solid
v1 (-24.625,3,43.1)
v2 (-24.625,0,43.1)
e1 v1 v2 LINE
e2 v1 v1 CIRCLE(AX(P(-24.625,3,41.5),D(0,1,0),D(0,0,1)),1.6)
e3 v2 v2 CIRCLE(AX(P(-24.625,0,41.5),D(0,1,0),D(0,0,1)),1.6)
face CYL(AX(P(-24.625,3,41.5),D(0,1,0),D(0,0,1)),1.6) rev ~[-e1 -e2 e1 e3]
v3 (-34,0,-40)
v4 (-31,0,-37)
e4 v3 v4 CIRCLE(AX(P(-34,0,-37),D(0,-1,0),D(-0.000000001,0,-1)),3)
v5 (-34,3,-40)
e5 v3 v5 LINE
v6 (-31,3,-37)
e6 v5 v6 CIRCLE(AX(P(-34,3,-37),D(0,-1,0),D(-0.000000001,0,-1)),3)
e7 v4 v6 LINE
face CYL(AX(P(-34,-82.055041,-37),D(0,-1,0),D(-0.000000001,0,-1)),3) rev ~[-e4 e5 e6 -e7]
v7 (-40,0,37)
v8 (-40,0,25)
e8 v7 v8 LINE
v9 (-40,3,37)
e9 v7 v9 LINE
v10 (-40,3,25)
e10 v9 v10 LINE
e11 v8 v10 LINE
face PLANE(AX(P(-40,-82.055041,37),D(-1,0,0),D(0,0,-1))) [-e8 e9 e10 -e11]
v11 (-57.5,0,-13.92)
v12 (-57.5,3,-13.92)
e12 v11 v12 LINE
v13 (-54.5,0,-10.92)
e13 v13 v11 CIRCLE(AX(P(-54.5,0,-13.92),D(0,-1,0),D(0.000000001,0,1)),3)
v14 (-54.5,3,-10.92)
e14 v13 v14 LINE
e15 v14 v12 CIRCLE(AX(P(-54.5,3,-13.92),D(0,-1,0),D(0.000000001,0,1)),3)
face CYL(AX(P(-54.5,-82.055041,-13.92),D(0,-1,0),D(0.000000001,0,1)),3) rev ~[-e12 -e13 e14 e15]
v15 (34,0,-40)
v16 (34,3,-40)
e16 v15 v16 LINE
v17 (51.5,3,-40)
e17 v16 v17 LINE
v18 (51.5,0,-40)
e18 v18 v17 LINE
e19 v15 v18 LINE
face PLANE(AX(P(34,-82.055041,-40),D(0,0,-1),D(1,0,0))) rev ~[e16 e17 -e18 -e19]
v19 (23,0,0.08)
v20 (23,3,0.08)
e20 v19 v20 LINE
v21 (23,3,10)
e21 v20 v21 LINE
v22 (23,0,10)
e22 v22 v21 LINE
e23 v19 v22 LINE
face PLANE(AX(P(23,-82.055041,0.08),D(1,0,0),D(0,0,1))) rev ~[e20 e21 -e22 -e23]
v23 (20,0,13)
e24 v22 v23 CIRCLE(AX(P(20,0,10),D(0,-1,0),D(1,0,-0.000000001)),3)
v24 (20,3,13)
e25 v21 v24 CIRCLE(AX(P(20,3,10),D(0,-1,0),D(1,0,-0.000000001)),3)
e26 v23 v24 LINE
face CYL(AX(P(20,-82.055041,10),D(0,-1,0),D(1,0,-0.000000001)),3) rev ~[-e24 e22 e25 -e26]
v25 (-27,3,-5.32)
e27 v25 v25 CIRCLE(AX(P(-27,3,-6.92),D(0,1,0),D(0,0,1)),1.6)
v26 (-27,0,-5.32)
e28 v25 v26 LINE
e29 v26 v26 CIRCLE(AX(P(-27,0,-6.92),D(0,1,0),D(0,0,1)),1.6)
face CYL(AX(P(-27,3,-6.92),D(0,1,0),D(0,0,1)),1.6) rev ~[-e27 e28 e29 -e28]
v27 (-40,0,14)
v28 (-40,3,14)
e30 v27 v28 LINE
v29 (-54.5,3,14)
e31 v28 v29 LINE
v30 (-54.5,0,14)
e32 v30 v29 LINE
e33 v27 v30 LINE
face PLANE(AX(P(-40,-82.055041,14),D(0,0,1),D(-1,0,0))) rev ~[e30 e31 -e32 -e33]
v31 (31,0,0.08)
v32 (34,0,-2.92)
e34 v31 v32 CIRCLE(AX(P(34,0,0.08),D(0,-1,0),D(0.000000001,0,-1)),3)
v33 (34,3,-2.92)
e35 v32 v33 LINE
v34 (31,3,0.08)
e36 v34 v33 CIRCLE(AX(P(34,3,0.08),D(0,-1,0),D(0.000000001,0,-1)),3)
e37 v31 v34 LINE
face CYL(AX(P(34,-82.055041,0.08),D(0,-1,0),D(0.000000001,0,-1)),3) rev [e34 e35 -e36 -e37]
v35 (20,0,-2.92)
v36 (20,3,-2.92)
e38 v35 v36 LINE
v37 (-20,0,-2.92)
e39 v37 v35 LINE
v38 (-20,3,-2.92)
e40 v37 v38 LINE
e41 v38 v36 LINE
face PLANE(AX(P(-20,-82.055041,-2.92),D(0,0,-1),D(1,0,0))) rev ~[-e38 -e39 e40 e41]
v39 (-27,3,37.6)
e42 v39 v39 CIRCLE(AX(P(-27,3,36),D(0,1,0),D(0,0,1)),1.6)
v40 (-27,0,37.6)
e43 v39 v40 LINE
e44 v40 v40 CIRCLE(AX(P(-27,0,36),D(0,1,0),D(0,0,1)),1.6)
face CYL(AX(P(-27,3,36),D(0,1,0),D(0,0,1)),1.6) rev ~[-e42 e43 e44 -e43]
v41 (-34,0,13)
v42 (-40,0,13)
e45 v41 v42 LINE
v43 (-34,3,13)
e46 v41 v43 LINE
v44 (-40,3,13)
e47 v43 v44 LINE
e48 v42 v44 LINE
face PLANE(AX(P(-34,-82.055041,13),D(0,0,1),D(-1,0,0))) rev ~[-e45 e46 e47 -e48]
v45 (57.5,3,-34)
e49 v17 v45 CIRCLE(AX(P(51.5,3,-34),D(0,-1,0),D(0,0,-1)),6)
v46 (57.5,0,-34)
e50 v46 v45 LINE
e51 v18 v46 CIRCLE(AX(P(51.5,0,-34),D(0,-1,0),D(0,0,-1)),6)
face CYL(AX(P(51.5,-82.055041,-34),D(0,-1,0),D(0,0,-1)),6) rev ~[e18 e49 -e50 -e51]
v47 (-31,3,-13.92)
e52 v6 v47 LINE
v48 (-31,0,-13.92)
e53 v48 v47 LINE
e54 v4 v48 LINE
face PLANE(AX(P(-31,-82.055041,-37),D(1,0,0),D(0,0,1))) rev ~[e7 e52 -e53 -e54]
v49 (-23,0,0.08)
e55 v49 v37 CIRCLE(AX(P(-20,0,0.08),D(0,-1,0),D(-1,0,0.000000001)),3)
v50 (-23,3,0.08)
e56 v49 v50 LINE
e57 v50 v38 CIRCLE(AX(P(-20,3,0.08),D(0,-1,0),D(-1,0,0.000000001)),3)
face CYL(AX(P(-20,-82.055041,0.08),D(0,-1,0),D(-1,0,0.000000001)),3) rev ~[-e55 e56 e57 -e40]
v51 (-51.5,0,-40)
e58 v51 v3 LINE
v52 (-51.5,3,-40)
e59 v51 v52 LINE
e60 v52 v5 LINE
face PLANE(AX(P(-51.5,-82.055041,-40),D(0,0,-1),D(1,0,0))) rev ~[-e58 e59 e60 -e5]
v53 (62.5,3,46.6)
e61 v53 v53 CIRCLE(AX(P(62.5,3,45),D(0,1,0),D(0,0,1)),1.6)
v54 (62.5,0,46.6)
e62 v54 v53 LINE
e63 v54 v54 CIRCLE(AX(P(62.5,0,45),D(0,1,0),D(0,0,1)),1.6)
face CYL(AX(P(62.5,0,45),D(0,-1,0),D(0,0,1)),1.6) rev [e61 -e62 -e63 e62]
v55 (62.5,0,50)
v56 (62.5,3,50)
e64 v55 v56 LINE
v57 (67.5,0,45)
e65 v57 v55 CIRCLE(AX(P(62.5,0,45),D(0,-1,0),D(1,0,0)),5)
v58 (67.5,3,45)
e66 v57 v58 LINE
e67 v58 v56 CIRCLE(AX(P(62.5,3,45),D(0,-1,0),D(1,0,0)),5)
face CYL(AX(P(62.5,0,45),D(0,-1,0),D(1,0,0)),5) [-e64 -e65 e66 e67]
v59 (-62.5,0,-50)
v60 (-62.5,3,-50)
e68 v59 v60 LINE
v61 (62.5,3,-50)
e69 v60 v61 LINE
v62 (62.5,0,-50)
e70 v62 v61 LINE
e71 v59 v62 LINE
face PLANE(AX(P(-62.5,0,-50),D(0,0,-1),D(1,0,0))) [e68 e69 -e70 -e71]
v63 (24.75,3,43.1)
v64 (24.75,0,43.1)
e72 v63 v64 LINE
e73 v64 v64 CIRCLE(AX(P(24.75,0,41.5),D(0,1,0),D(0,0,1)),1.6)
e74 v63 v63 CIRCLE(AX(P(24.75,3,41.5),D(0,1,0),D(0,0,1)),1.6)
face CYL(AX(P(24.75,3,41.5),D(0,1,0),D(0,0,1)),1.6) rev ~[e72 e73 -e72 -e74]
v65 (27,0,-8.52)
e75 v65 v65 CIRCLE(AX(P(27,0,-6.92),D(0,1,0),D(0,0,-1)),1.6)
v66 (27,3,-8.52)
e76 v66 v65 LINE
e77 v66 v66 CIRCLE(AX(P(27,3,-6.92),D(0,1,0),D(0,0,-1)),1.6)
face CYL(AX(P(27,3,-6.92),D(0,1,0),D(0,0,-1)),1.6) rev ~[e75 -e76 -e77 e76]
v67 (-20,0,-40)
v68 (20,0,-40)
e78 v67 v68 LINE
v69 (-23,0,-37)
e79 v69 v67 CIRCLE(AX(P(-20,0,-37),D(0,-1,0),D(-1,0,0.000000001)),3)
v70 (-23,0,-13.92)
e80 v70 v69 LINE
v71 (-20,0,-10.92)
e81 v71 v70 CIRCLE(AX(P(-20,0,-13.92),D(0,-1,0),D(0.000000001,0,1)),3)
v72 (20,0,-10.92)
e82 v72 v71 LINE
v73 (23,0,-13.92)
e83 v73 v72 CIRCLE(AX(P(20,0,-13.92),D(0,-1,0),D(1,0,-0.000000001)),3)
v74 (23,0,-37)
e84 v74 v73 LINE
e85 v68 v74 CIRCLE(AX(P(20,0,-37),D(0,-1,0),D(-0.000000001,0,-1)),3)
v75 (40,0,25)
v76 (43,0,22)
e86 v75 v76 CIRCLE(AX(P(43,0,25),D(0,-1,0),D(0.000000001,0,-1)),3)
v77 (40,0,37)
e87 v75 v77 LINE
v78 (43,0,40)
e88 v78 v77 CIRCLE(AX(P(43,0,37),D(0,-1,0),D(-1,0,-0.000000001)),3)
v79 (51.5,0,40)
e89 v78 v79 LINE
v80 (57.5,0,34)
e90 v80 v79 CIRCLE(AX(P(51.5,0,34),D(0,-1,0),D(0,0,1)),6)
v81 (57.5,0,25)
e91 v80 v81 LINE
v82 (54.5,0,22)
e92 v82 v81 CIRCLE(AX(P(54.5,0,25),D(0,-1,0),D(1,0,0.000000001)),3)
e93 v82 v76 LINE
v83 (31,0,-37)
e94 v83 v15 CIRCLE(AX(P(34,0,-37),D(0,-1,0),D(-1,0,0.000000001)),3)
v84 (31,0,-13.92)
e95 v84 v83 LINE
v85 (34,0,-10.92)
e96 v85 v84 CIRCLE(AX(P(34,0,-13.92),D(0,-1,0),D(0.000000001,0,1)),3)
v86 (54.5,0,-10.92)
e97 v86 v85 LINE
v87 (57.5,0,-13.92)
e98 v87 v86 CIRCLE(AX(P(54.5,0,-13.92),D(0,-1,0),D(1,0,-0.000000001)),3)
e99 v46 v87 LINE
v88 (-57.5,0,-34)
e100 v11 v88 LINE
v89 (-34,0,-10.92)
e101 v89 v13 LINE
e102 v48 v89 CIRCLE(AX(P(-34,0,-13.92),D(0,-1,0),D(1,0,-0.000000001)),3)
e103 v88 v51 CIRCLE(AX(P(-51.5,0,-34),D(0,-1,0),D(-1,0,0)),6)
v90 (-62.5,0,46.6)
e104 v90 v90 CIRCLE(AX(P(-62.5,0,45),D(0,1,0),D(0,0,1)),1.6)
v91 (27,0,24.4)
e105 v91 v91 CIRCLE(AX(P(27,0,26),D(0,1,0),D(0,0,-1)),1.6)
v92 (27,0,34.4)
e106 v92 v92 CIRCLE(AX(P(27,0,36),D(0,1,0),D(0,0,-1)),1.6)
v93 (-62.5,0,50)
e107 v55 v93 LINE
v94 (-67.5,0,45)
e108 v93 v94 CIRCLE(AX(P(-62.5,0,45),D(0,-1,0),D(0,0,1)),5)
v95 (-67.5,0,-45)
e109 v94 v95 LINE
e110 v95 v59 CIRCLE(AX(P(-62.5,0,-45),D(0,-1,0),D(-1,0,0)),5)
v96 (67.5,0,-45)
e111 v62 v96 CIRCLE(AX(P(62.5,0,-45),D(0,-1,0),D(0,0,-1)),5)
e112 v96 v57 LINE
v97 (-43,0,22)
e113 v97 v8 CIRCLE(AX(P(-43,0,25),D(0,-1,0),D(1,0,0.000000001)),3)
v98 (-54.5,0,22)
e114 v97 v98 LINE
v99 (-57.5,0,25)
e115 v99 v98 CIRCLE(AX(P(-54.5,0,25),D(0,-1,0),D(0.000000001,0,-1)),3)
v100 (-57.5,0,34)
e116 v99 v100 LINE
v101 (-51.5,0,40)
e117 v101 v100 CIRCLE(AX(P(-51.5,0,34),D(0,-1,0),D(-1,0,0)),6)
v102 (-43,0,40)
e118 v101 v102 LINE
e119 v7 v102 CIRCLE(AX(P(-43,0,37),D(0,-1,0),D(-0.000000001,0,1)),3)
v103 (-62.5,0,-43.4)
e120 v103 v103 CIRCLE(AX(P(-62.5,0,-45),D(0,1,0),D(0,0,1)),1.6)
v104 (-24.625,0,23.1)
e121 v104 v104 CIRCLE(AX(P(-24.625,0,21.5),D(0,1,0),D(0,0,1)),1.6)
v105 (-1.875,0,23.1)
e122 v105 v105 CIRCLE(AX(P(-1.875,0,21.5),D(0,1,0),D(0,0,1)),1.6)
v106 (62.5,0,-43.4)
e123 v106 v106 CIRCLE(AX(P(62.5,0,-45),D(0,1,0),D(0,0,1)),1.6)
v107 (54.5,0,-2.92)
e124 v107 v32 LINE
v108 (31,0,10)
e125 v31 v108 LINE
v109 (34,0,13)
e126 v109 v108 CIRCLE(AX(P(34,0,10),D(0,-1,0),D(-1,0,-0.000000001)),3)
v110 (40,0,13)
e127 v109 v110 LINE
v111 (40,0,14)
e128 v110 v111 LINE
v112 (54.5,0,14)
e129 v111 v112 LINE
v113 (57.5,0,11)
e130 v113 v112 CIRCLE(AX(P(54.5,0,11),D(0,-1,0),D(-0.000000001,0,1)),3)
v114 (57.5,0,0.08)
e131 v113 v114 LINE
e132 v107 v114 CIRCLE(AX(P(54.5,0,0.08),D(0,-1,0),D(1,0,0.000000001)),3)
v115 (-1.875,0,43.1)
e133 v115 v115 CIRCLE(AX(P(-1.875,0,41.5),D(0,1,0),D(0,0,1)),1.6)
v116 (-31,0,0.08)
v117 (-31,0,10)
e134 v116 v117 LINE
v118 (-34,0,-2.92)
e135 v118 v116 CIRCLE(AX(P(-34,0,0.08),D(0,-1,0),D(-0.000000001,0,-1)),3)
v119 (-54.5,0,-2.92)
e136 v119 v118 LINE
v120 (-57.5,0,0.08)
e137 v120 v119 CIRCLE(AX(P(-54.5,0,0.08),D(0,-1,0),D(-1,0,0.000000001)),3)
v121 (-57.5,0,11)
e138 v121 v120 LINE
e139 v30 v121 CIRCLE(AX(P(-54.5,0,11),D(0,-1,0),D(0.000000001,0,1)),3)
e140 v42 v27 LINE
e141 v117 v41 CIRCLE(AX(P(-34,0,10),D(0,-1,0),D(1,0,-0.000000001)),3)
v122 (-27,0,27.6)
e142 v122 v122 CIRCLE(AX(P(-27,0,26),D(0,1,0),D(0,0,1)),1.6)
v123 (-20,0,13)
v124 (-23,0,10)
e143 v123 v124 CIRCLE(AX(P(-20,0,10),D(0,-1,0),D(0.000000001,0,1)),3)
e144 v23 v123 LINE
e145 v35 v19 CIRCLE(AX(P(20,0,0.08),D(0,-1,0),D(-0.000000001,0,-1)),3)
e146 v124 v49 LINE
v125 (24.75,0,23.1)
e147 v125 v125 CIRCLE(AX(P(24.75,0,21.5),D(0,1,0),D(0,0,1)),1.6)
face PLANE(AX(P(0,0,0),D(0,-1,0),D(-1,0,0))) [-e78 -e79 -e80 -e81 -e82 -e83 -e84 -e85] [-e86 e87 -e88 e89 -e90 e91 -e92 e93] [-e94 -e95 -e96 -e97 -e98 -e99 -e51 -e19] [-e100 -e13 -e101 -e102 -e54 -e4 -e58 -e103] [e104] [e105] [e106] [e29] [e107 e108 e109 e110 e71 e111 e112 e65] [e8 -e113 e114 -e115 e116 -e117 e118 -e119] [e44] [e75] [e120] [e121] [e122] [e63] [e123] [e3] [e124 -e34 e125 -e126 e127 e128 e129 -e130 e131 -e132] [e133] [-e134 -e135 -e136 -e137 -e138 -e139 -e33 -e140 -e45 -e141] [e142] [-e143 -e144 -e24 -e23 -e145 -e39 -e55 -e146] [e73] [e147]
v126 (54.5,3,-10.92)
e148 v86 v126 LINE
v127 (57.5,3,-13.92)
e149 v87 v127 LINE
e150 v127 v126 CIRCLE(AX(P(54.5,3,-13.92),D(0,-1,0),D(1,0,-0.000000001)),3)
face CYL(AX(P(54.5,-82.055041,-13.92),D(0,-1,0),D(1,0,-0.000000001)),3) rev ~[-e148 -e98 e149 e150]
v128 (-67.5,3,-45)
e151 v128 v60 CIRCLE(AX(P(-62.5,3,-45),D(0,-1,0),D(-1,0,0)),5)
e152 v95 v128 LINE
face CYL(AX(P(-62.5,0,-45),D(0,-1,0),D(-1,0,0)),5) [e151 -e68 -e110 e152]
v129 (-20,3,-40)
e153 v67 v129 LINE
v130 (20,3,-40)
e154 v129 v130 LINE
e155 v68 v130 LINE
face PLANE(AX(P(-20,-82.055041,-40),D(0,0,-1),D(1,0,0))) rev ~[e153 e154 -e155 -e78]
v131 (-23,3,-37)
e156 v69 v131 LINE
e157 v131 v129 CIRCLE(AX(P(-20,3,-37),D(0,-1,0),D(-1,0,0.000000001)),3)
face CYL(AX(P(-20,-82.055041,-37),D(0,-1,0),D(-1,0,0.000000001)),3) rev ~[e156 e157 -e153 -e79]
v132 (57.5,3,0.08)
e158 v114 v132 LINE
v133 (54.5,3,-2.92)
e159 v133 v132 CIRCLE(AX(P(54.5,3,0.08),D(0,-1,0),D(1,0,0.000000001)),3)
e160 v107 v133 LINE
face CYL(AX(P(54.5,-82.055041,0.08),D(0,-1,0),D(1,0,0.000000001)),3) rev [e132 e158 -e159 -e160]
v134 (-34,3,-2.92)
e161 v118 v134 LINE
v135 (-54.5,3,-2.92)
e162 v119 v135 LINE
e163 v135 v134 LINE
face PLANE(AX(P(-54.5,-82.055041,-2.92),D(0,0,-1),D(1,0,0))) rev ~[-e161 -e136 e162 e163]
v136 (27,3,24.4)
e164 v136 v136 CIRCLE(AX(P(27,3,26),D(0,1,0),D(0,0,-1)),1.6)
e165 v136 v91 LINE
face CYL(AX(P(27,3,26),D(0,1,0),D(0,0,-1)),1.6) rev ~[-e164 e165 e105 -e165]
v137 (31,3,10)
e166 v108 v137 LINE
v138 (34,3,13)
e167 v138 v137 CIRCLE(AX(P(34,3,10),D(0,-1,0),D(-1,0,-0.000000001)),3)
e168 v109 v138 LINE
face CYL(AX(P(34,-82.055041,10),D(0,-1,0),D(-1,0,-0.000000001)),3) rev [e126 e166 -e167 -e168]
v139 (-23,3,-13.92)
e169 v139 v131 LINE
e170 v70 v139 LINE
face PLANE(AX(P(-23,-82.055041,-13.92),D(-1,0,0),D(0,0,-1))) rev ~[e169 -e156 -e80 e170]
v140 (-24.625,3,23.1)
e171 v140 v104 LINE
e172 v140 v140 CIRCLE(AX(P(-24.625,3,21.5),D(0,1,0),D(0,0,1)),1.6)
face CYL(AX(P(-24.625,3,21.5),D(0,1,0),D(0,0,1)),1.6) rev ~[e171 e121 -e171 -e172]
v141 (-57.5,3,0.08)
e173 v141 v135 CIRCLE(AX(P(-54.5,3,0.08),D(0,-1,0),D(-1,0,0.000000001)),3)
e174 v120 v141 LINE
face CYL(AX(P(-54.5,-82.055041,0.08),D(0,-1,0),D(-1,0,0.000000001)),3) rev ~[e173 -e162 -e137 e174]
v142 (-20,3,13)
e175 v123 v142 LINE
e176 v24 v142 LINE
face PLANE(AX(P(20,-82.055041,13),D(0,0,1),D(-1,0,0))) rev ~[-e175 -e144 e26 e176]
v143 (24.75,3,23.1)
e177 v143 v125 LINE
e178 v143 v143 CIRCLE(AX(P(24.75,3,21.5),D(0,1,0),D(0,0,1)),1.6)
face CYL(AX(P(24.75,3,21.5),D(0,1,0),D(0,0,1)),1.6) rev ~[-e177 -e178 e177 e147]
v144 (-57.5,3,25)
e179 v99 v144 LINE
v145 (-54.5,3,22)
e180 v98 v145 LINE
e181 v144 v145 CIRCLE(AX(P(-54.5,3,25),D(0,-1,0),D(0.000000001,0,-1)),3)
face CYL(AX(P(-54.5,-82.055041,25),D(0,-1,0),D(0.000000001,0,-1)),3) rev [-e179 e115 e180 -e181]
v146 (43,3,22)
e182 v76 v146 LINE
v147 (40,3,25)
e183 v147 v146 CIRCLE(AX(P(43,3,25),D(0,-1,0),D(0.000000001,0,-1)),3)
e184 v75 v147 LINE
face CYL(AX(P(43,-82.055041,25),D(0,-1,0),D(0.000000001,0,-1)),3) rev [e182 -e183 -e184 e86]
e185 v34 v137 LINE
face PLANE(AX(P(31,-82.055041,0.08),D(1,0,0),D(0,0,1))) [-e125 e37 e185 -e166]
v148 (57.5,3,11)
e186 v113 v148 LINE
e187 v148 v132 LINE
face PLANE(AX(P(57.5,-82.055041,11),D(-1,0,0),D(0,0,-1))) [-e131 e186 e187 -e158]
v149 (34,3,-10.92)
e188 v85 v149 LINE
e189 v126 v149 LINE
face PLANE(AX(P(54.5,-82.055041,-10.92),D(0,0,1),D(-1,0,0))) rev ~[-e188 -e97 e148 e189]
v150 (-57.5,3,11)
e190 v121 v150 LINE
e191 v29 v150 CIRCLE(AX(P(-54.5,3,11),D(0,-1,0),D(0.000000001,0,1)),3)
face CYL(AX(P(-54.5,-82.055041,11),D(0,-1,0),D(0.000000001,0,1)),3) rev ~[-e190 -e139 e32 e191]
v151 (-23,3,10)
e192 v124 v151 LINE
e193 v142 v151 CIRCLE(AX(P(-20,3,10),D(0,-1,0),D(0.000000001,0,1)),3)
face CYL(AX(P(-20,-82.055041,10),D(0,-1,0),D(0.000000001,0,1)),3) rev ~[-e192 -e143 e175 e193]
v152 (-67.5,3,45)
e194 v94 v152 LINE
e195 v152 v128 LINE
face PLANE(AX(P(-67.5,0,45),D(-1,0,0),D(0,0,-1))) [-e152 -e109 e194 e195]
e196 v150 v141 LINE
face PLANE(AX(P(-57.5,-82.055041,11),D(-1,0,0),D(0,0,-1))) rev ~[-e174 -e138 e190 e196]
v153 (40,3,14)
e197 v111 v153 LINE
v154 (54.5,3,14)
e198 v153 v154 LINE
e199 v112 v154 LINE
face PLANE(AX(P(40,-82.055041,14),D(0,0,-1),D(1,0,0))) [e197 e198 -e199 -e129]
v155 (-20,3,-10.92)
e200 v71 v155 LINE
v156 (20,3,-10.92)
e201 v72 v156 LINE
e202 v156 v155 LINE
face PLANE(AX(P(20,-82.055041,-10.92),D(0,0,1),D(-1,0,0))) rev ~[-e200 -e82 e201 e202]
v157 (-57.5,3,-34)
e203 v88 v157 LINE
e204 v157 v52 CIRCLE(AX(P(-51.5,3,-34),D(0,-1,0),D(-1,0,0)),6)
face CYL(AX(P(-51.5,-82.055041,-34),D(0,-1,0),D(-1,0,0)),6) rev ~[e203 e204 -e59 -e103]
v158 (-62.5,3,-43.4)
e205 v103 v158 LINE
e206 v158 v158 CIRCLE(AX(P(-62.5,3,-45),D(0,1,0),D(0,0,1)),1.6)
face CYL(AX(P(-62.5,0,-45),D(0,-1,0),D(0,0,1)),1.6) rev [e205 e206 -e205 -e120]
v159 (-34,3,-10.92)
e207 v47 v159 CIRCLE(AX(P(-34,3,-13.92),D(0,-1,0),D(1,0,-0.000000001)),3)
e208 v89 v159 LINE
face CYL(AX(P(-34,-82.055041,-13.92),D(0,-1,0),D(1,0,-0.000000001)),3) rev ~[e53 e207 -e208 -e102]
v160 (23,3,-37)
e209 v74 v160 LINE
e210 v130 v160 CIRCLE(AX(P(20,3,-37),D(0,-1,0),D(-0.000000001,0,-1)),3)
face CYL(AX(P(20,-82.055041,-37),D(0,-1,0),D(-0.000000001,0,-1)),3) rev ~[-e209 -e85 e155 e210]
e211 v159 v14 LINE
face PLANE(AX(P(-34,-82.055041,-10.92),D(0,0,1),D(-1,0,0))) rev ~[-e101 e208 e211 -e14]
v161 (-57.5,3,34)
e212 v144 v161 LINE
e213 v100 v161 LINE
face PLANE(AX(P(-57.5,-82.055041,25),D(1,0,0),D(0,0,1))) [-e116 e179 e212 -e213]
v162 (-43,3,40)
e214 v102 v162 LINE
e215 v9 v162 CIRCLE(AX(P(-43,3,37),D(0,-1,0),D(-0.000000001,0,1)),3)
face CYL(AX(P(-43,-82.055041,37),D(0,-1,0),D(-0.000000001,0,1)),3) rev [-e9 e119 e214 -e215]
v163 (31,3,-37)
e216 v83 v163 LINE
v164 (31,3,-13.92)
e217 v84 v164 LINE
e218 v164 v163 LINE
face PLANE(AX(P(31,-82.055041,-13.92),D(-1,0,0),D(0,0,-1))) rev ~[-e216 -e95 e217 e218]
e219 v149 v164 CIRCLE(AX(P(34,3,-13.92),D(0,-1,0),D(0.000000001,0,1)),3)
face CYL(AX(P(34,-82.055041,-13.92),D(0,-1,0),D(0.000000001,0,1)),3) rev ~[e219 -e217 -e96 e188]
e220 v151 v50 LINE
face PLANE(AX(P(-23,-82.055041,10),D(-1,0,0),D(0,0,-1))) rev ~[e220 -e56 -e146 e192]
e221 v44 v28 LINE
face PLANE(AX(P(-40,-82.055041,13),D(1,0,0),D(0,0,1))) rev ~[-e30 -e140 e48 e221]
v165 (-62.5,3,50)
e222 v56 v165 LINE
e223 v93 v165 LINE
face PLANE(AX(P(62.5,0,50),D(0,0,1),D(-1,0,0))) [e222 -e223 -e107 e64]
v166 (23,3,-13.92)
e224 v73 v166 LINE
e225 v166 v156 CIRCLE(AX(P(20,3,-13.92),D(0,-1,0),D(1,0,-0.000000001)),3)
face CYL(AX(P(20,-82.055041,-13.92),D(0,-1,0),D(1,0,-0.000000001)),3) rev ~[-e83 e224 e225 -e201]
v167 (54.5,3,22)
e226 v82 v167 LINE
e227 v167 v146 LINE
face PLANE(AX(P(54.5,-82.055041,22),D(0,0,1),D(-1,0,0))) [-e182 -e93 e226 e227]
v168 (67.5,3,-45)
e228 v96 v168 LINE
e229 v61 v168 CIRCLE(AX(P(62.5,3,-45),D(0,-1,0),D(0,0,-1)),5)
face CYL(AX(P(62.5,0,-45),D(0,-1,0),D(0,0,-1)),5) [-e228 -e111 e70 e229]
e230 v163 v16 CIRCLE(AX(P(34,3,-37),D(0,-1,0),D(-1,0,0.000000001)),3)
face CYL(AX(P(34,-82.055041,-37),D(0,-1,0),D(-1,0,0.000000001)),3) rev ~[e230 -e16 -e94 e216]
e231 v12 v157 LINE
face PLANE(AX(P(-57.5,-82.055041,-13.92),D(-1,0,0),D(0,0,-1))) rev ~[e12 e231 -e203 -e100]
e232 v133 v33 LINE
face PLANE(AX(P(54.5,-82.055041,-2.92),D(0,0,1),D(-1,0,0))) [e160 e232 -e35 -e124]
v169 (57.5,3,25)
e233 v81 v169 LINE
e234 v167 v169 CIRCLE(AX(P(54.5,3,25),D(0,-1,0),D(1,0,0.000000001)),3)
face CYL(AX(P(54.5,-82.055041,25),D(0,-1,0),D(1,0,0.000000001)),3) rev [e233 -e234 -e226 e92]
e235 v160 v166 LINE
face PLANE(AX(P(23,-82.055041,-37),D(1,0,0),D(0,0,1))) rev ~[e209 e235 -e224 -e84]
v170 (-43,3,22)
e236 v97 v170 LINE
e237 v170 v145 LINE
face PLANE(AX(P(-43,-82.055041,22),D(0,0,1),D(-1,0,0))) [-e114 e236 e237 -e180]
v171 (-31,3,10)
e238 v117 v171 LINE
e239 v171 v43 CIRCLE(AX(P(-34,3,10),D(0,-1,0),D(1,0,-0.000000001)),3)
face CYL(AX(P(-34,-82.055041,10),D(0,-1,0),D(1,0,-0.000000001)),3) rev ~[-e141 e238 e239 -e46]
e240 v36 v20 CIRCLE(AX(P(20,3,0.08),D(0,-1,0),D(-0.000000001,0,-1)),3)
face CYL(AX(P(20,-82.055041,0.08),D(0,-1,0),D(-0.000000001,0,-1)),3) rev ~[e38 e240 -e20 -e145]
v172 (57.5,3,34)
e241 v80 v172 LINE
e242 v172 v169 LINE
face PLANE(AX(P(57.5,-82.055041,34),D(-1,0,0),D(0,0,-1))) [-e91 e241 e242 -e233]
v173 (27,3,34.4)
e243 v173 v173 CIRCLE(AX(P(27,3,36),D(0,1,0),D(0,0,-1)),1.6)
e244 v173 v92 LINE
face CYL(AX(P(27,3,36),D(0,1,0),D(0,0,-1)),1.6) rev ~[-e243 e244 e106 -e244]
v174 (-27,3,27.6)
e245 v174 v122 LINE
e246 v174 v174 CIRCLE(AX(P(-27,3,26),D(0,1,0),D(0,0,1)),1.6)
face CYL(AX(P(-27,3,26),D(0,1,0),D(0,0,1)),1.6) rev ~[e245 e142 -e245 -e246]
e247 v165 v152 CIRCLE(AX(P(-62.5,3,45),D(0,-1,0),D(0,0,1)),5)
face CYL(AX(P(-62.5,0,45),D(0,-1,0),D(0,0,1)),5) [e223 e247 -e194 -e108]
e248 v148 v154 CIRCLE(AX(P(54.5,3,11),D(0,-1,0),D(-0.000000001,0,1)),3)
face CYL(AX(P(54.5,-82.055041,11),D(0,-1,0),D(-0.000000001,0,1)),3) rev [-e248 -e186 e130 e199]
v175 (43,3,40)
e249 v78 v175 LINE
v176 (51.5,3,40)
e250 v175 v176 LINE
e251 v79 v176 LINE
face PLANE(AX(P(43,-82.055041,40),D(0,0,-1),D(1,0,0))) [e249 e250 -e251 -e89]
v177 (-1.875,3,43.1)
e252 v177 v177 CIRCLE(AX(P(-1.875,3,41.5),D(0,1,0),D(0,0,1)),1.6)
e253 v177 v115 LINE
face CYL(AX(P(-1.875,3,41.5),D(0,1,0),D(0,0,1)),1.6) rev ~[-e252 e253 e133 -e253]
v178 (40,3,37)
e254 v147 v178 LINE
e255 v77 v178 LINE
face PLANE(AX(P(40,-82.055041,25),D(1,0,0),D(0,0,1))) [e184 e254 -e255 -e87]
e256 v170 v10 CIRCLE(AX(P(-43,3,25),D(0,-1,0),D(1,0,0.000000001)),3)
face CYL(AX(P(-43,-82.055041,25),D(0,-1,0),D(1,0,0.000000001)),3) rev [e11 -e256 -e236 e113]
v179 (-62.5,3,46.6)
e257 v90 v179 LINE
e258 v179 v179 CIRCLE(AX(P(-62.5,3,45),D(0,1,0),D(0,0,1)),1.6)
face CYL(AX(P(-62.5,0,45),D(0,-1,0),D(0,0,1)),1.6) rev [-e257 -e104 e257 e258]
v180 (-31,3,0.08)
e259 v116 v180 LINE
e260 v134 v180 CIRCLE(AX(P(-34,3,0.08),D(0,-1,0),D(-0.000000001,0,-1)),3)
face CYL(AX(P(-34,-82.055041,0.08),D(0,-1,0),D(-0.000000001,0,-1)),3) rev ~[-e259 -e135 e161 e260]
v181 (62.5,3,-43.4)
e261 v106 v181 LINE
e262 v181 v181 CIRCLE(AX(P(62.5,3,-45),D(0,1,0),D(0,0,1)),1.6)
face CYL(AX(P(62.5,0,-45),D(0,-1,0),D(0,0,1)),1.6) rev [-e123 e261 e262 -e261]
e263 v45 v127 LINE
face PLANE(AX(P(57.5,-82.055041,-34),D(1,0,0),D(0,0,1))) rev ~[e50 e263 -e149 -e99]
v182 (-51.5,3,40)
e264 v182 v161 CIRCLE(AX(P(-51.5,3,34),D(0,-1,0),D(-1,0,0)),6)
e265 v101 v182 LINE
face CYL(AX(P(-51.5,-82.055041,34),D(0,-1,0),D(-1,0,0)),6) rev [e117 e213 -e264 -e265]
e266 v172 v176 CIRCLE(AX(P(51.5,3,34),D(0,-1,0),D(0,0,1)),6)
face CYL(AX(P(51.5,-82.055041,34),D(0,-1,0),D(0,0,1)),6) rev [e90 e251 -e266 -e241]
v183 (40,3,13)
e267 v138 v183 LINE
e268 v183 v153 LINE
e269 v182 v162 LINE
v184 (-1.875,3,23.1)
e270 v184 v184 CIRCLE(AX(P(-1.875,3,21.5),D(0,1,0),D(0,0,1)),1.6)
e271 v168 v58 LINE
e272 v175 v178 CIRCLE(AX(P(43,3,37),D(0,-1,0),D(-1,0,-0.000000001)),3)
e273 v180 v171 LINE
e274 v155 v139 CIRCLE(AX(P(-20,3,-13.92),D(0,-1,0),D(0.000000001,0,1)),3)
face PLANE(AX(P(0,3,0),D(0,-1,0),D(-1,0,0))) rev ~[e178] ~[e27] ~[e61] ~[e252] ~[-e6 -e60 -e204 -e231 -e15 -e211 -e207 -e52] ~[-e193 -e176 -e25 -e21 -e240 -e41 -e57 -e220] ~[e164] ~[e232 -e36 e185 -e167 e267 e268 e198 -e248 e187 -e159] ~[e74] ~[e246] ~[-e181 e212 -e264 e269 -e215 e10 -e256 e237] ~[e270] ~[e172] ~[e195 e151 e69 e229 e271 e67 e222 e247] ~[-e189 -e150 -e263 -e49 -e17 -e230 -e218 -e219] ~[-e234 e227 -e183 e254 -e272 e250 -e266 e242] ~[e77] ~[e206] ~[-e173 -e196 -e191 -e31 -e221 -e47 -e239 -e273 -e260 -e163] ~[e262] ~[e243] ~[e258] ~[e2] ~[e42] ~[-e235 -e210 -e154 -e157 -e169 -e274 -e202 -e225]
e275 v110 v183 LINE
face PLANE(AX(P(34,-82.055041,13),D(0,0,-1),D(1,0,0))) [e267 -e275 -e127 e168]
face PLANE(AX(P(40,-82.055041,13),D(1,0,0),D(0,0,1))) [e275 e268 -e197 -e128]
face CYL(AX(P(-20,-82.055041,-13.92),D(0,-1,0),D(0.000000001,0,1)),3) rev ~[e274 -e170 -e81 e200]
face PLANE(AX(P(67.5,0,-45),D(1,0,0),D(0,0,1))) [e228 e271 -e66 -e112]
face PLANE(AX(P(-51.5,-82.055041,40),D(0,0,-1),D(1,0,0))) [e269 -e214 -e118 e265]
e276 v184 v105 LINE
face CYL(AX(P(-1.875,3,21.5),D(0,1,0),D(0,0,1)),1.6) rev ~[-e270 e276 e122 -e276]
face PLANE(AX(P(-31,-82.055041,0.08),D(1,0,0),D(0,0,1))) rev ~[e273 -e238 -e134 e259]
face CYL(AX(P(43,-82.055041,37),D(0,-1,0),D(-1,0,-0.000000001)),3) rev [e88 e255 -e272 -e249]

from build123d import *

# Parameters (mm, degrees)
SKETCH_1_R               = 1.6
EXTRUDE_1_DEPTH          = 3
SKETCH_2_R               = 1.6
CUT_EXTRUDE_1_DEPTH      = 85.055041491
SKETCH_3_R               = 1.6
CUT_EXTRUDE_2_DEPTH      = 85.055041491
CUT_EXTRUDE_3_DEPTH      = 85.055041491
CUT_EXTRUDE_3_DEPTH_BACK = 85.055041491


with BuildPart() as part:
    # 草图1 → 凸台-拉伸1 (new body)
    with BuildSketch(Plane(origin=(0, 0, 0), x_dir=(1, 0, 0), z_dir=(0, 1, 0))):
        with BuildLine():
            Line((-62.5, 50), (62.5, 50))
            ThreePointArc((62.5, 50), (66.035533906, 48.535533906), (67.5, 45))
            Line((67.5, 45), (67.5, -45))
            ThreePointArc((67.5, -45), (66.035533906, -48.535533906), (62.5, -50))
            Line((62.5, -50), (-62.5, -50))
            ThreePointArc((-62.5, -50), (-66.035533906, -48.535533906), (-67.5, -45))
            Line((-67.5, -45), (-67.5, 45))
            ThreePointArc((-67.5, 45), (-66.035533906, 48.535533906), (-62.5, 50))
        make_face()
        with Locations(Location((-62.5, 45, 0), (0, 0, 270))):
            Circle(SKETCH_1_R, mode=Mode.SUBTRACT)
        with Locations(Location((62.5, 45, 0), (0, 0, 270))):
            Circle(SKETCH_1_R, mode=Mode.SUBTRACT)
        with Locations(Location((-62.5, -45, 0), (0, 0, 270))):
            Circle(SKETCH_1_R, mode=Mode.SUBTRACT)
        with Locations(Location((62.5, -45, 0), (0, 0, 270))):
            Circle(SKETCH_1_R, mode=Mode.SUBTRACT)
    extrude(amount=EXTRUDE_1_DEPTH)

    # 草图2 → 切除-拉伸1 (cut, through all)
    with BuildSketch(Plane(origin=(0, 3, 0), x_dir=(1, 0, 0), z_dir=(0, 1, 0))):
        with Locations(Location((-24.625, -41.5, 0), (0, 0, 270))):
            Circle(SKETCH_2_R)
        with Locations(Location((-24.625, -21.5, 0), (0, 0, 270))):
            Circle(SKETCH_2_R)
        with Locations(Location((-1.875, -41.5, 0), (0, 0, 270))):
            Circle(SKETCH_2_R)
        with Locations(Location((-1.875, -21.5, 0), (0, 0, 270))):
            Circle(SKETCH_2_R)
        with Locations(Location((24.75, -41.5, 0), (0, 0, 270))):
            Circle(SKETCH_2_R)
        with Locations(Location((24.75, -21.5, 0), (0, 0, 270))):
            Circle(SKETCH_2_R)
    extrude(amount=-CUT_EXTRUDE_1_DEPTH, mode=Mode.SUBTRACT)

    # 草图3 → 切除-拉伸2 (cut, through all)
    with BuildSketch(Plane(origin=(0, 3, 0), x_dir=(1, 0, 0), z_dir=(0, 1, 0))):
        with Locations(Location((-27, -36, 0), (0, 0, 270))):
            Circle(SKETCH_3_R)
        with Locations(Location((27, -36, 0), (0, 0, 90))):
            Circle(SKETCH_3_R)
        with Locations(Location((-27, 6.92, 0), (0, 0, 270))):
            Circle(SKETCH_3_R)
        with Locations(Location((27, 6.92, 0), (0, 0, 90))):
            Circle(SKETCH_3_R)
        with Locations(Location((-27, -26, 0), (0, 0, 270))):
            Circle(SKETCH_3_R)
        with Locations(Location((27, -26, 0), (0, 0, 90))):
            Circle(SKETCH_3_R)
    extrude(amount=-CUT_EXTRUDE_2_DEPTH, mode=Mode.SUBTRACT)

    # 草图6 → 切除-拉伸3 (cut, two sides: drawn at the far end of the back side and taken through both)
    with BuildSketch(Plane(origin=(0, 3, 0), x_dir=(1, 0, 0), z_dir=(0, 1, 0)).offset(-CUT_EXTRUDE_3_DEPTH_BACK)):
        with BuildLine():
            ThreePointArc((-54.5, 10.92), (-56.621320344, 11.798679656), (-57.5, 13.92))
            Line((-57.5, 13.92), (-57.5, 34))
            ThreePointArc((-57.5, 34), (-55.742640687, 38.242640687), (-51.5, 40))
            Line((-51.5, 40), (-34, 40))
            ThreePointArc((-34, 40), (-31.878679656, 39.121320344), (-31, 37))
            Line((-31, 37), (-31, 13.92))
            ThreePointArc((-31, 13.92), (-31.878679656, 11.798679656), (-34, 10.92))
            Line((-34, 10.92), (-54.5, 10.92))
        make_face()
        with BuildLine():
            ThreePointArc((-20, 10.92), (-22.121320344, 11.798679656), (-23, 13.92))
            Line((-23, 13.92), (-23, 37))
            ThreePointArc((-23, 37), (-22.121320344, 39.121320344), (-20, 40))
            Line((-20, 40), (20, 40))
            ThreePointArc((20, 40), (22.121320344, 39.121320344), (23, 37))
            Line((23, 37), (23, 13.92))
            ThreePointArc((23, 13.92), (22.121320344, 11.798679656), (20, 10.92))
            Line((20, 10.92), (-20, 10.92))
        make_face()
        with BuildLine():
            ThreePointArc((31, 37), (31.878679656, 39.121320344), (34, 40))
            Line((34, 40), (51.5, 40))
            ThreePointArc((51.5, 40), (55.742640687, 38.242640687), (57.5, 34))
            Line((57.5, 34), (57.5, 13.92))
            ThreePointArc((57.5, 13.92), (56.621320344, 11.798679656), (54.5, 10.92))
            Line((54.5, 10.92), (34, 10.92))
            ThreePointArc((34, 10.92), (31.878679656, 11.798679656), (31, 13.92))
            Line((31, 13.92), (31, 37))
        make_face()
        with BuildLine():
            Line((57.5, -11), (57.5, -0.08))
            ThreePointArc((57.5, -0.08), (56.621320344, 2.041320344), (54.5, 2.92))
            Line((54.5, 2.92), (34, 2.92))
            ThreePointArc((34, 2.92), (31.878679656, 2.041320344), (31, -0.08))
            Line((31, -0.08), (31, -10))
            ThreePointArc((31, -10), (31.878679656, -12.121320344), (34, -13))
            Line((34, -13), (40, -13))
            Line((40, -13), (40, -14))
            Line((40, -14), (54.5, -14))
            ThreePointArc((54.5, -14), (56.621320344, -13.121320344), (57.5, -11))
        make_face()
        with BuildLine():
            ThreePointArc((-23, -0.08), (-22.121320344, 2.041320344), (-20, 2.92))
            Line((-20, 2.92), (20, 2.92))
            ThreePointArc((20, 2.92), (22.121320344, 2.041320344), (23, -0.08))
            Line((23, -0.08), (23, -10))
            ThreePointArc((23, -10), (22.121320344, -12.121320344), (20, -13))
            Line((20, -13), (-20, -13))
            ThreePointArc((-20, -13), (-22.121320344, -12.121320344), (-23, -10))
            Line((-23, -10), (-23, -0.08))
        make_face()
        with BuildLine():
            Line((-31, -0.08), (-31, -10))
            ThreePointArc((-31, -10), (-31.878679656, -12.121320344), (-34, -13))
            Line((-34, -13), (-40, -13))
            Line((-40, -13), (-40, -14))
            Line((-40, -14), (-54.5, -14))
            ThreePointArc((-54.5, -14), (-56.621320344, -13.121320344), (-57.5, -11))
            Line((-57.5, -11), (-57.5, -0.08))
            ThreePointArc((-57.5, -0.08), (-56.621320344, 2.041320344), (-54.5, 2.92))
            Line((-54.5, 2.92), (-34, 2.92))
            ThreePointArc((-34, 2.92), (-31.878679656, 2.041320344), (-31, -0.08))
        make_face()
        with BuildLine():
            ThreePointArc((-54.5, -22), (-56.621320344, -22.878679656), (-57.5, -25))
            Line((-57.5, -25), (-57.5, -34))
            ThreePointArc((-57.5, -34), (-55.742640687, -38.242640687), (-51.5, -40))
            Line((-51.5, -40), (-43, -40))
            ThreePointArc((-43, -40), (-40.878679656, -39.121320344), (-40, -37))
            Line((-40, -37), (-40, -30.568485257))
            Line((-40, -30.568485257), (-40, -25))
            ThreePointArc((-40, -25), (-40.878679656, -22.878679656), (-43, -22))
            Line((-43, -22), (-54.5, -22))
        make_face()
        with BuildLine():
            Line((57.5, -34), (57.5, -25))
            ThreePointArc((57.5, -25), (56.621320344, -22.878679656), (54.5, -22))
            Line((54.5, -22), (43, -22))
            ThreePointArc((43, -22), (40.878679656, -22.878679656), (40, -25))
            Line((40, -25), (40, -37))
            ThreePointArc((40, -37), (40.878679656, -39.121320344), (43, -40))
            Line((43, -40), (51.5, -40))
            ThreePointArc((51.5, -40), (55.742640687, -38.242640687), (57.5, -34))
        make_face()
    extrude(amount=CUT_EXTRUDE_3_DEPTH + CUT_EXTRUDE_3_DEPTH_BACK, mode=Mode.SUBTRACT)


solid = part.part
